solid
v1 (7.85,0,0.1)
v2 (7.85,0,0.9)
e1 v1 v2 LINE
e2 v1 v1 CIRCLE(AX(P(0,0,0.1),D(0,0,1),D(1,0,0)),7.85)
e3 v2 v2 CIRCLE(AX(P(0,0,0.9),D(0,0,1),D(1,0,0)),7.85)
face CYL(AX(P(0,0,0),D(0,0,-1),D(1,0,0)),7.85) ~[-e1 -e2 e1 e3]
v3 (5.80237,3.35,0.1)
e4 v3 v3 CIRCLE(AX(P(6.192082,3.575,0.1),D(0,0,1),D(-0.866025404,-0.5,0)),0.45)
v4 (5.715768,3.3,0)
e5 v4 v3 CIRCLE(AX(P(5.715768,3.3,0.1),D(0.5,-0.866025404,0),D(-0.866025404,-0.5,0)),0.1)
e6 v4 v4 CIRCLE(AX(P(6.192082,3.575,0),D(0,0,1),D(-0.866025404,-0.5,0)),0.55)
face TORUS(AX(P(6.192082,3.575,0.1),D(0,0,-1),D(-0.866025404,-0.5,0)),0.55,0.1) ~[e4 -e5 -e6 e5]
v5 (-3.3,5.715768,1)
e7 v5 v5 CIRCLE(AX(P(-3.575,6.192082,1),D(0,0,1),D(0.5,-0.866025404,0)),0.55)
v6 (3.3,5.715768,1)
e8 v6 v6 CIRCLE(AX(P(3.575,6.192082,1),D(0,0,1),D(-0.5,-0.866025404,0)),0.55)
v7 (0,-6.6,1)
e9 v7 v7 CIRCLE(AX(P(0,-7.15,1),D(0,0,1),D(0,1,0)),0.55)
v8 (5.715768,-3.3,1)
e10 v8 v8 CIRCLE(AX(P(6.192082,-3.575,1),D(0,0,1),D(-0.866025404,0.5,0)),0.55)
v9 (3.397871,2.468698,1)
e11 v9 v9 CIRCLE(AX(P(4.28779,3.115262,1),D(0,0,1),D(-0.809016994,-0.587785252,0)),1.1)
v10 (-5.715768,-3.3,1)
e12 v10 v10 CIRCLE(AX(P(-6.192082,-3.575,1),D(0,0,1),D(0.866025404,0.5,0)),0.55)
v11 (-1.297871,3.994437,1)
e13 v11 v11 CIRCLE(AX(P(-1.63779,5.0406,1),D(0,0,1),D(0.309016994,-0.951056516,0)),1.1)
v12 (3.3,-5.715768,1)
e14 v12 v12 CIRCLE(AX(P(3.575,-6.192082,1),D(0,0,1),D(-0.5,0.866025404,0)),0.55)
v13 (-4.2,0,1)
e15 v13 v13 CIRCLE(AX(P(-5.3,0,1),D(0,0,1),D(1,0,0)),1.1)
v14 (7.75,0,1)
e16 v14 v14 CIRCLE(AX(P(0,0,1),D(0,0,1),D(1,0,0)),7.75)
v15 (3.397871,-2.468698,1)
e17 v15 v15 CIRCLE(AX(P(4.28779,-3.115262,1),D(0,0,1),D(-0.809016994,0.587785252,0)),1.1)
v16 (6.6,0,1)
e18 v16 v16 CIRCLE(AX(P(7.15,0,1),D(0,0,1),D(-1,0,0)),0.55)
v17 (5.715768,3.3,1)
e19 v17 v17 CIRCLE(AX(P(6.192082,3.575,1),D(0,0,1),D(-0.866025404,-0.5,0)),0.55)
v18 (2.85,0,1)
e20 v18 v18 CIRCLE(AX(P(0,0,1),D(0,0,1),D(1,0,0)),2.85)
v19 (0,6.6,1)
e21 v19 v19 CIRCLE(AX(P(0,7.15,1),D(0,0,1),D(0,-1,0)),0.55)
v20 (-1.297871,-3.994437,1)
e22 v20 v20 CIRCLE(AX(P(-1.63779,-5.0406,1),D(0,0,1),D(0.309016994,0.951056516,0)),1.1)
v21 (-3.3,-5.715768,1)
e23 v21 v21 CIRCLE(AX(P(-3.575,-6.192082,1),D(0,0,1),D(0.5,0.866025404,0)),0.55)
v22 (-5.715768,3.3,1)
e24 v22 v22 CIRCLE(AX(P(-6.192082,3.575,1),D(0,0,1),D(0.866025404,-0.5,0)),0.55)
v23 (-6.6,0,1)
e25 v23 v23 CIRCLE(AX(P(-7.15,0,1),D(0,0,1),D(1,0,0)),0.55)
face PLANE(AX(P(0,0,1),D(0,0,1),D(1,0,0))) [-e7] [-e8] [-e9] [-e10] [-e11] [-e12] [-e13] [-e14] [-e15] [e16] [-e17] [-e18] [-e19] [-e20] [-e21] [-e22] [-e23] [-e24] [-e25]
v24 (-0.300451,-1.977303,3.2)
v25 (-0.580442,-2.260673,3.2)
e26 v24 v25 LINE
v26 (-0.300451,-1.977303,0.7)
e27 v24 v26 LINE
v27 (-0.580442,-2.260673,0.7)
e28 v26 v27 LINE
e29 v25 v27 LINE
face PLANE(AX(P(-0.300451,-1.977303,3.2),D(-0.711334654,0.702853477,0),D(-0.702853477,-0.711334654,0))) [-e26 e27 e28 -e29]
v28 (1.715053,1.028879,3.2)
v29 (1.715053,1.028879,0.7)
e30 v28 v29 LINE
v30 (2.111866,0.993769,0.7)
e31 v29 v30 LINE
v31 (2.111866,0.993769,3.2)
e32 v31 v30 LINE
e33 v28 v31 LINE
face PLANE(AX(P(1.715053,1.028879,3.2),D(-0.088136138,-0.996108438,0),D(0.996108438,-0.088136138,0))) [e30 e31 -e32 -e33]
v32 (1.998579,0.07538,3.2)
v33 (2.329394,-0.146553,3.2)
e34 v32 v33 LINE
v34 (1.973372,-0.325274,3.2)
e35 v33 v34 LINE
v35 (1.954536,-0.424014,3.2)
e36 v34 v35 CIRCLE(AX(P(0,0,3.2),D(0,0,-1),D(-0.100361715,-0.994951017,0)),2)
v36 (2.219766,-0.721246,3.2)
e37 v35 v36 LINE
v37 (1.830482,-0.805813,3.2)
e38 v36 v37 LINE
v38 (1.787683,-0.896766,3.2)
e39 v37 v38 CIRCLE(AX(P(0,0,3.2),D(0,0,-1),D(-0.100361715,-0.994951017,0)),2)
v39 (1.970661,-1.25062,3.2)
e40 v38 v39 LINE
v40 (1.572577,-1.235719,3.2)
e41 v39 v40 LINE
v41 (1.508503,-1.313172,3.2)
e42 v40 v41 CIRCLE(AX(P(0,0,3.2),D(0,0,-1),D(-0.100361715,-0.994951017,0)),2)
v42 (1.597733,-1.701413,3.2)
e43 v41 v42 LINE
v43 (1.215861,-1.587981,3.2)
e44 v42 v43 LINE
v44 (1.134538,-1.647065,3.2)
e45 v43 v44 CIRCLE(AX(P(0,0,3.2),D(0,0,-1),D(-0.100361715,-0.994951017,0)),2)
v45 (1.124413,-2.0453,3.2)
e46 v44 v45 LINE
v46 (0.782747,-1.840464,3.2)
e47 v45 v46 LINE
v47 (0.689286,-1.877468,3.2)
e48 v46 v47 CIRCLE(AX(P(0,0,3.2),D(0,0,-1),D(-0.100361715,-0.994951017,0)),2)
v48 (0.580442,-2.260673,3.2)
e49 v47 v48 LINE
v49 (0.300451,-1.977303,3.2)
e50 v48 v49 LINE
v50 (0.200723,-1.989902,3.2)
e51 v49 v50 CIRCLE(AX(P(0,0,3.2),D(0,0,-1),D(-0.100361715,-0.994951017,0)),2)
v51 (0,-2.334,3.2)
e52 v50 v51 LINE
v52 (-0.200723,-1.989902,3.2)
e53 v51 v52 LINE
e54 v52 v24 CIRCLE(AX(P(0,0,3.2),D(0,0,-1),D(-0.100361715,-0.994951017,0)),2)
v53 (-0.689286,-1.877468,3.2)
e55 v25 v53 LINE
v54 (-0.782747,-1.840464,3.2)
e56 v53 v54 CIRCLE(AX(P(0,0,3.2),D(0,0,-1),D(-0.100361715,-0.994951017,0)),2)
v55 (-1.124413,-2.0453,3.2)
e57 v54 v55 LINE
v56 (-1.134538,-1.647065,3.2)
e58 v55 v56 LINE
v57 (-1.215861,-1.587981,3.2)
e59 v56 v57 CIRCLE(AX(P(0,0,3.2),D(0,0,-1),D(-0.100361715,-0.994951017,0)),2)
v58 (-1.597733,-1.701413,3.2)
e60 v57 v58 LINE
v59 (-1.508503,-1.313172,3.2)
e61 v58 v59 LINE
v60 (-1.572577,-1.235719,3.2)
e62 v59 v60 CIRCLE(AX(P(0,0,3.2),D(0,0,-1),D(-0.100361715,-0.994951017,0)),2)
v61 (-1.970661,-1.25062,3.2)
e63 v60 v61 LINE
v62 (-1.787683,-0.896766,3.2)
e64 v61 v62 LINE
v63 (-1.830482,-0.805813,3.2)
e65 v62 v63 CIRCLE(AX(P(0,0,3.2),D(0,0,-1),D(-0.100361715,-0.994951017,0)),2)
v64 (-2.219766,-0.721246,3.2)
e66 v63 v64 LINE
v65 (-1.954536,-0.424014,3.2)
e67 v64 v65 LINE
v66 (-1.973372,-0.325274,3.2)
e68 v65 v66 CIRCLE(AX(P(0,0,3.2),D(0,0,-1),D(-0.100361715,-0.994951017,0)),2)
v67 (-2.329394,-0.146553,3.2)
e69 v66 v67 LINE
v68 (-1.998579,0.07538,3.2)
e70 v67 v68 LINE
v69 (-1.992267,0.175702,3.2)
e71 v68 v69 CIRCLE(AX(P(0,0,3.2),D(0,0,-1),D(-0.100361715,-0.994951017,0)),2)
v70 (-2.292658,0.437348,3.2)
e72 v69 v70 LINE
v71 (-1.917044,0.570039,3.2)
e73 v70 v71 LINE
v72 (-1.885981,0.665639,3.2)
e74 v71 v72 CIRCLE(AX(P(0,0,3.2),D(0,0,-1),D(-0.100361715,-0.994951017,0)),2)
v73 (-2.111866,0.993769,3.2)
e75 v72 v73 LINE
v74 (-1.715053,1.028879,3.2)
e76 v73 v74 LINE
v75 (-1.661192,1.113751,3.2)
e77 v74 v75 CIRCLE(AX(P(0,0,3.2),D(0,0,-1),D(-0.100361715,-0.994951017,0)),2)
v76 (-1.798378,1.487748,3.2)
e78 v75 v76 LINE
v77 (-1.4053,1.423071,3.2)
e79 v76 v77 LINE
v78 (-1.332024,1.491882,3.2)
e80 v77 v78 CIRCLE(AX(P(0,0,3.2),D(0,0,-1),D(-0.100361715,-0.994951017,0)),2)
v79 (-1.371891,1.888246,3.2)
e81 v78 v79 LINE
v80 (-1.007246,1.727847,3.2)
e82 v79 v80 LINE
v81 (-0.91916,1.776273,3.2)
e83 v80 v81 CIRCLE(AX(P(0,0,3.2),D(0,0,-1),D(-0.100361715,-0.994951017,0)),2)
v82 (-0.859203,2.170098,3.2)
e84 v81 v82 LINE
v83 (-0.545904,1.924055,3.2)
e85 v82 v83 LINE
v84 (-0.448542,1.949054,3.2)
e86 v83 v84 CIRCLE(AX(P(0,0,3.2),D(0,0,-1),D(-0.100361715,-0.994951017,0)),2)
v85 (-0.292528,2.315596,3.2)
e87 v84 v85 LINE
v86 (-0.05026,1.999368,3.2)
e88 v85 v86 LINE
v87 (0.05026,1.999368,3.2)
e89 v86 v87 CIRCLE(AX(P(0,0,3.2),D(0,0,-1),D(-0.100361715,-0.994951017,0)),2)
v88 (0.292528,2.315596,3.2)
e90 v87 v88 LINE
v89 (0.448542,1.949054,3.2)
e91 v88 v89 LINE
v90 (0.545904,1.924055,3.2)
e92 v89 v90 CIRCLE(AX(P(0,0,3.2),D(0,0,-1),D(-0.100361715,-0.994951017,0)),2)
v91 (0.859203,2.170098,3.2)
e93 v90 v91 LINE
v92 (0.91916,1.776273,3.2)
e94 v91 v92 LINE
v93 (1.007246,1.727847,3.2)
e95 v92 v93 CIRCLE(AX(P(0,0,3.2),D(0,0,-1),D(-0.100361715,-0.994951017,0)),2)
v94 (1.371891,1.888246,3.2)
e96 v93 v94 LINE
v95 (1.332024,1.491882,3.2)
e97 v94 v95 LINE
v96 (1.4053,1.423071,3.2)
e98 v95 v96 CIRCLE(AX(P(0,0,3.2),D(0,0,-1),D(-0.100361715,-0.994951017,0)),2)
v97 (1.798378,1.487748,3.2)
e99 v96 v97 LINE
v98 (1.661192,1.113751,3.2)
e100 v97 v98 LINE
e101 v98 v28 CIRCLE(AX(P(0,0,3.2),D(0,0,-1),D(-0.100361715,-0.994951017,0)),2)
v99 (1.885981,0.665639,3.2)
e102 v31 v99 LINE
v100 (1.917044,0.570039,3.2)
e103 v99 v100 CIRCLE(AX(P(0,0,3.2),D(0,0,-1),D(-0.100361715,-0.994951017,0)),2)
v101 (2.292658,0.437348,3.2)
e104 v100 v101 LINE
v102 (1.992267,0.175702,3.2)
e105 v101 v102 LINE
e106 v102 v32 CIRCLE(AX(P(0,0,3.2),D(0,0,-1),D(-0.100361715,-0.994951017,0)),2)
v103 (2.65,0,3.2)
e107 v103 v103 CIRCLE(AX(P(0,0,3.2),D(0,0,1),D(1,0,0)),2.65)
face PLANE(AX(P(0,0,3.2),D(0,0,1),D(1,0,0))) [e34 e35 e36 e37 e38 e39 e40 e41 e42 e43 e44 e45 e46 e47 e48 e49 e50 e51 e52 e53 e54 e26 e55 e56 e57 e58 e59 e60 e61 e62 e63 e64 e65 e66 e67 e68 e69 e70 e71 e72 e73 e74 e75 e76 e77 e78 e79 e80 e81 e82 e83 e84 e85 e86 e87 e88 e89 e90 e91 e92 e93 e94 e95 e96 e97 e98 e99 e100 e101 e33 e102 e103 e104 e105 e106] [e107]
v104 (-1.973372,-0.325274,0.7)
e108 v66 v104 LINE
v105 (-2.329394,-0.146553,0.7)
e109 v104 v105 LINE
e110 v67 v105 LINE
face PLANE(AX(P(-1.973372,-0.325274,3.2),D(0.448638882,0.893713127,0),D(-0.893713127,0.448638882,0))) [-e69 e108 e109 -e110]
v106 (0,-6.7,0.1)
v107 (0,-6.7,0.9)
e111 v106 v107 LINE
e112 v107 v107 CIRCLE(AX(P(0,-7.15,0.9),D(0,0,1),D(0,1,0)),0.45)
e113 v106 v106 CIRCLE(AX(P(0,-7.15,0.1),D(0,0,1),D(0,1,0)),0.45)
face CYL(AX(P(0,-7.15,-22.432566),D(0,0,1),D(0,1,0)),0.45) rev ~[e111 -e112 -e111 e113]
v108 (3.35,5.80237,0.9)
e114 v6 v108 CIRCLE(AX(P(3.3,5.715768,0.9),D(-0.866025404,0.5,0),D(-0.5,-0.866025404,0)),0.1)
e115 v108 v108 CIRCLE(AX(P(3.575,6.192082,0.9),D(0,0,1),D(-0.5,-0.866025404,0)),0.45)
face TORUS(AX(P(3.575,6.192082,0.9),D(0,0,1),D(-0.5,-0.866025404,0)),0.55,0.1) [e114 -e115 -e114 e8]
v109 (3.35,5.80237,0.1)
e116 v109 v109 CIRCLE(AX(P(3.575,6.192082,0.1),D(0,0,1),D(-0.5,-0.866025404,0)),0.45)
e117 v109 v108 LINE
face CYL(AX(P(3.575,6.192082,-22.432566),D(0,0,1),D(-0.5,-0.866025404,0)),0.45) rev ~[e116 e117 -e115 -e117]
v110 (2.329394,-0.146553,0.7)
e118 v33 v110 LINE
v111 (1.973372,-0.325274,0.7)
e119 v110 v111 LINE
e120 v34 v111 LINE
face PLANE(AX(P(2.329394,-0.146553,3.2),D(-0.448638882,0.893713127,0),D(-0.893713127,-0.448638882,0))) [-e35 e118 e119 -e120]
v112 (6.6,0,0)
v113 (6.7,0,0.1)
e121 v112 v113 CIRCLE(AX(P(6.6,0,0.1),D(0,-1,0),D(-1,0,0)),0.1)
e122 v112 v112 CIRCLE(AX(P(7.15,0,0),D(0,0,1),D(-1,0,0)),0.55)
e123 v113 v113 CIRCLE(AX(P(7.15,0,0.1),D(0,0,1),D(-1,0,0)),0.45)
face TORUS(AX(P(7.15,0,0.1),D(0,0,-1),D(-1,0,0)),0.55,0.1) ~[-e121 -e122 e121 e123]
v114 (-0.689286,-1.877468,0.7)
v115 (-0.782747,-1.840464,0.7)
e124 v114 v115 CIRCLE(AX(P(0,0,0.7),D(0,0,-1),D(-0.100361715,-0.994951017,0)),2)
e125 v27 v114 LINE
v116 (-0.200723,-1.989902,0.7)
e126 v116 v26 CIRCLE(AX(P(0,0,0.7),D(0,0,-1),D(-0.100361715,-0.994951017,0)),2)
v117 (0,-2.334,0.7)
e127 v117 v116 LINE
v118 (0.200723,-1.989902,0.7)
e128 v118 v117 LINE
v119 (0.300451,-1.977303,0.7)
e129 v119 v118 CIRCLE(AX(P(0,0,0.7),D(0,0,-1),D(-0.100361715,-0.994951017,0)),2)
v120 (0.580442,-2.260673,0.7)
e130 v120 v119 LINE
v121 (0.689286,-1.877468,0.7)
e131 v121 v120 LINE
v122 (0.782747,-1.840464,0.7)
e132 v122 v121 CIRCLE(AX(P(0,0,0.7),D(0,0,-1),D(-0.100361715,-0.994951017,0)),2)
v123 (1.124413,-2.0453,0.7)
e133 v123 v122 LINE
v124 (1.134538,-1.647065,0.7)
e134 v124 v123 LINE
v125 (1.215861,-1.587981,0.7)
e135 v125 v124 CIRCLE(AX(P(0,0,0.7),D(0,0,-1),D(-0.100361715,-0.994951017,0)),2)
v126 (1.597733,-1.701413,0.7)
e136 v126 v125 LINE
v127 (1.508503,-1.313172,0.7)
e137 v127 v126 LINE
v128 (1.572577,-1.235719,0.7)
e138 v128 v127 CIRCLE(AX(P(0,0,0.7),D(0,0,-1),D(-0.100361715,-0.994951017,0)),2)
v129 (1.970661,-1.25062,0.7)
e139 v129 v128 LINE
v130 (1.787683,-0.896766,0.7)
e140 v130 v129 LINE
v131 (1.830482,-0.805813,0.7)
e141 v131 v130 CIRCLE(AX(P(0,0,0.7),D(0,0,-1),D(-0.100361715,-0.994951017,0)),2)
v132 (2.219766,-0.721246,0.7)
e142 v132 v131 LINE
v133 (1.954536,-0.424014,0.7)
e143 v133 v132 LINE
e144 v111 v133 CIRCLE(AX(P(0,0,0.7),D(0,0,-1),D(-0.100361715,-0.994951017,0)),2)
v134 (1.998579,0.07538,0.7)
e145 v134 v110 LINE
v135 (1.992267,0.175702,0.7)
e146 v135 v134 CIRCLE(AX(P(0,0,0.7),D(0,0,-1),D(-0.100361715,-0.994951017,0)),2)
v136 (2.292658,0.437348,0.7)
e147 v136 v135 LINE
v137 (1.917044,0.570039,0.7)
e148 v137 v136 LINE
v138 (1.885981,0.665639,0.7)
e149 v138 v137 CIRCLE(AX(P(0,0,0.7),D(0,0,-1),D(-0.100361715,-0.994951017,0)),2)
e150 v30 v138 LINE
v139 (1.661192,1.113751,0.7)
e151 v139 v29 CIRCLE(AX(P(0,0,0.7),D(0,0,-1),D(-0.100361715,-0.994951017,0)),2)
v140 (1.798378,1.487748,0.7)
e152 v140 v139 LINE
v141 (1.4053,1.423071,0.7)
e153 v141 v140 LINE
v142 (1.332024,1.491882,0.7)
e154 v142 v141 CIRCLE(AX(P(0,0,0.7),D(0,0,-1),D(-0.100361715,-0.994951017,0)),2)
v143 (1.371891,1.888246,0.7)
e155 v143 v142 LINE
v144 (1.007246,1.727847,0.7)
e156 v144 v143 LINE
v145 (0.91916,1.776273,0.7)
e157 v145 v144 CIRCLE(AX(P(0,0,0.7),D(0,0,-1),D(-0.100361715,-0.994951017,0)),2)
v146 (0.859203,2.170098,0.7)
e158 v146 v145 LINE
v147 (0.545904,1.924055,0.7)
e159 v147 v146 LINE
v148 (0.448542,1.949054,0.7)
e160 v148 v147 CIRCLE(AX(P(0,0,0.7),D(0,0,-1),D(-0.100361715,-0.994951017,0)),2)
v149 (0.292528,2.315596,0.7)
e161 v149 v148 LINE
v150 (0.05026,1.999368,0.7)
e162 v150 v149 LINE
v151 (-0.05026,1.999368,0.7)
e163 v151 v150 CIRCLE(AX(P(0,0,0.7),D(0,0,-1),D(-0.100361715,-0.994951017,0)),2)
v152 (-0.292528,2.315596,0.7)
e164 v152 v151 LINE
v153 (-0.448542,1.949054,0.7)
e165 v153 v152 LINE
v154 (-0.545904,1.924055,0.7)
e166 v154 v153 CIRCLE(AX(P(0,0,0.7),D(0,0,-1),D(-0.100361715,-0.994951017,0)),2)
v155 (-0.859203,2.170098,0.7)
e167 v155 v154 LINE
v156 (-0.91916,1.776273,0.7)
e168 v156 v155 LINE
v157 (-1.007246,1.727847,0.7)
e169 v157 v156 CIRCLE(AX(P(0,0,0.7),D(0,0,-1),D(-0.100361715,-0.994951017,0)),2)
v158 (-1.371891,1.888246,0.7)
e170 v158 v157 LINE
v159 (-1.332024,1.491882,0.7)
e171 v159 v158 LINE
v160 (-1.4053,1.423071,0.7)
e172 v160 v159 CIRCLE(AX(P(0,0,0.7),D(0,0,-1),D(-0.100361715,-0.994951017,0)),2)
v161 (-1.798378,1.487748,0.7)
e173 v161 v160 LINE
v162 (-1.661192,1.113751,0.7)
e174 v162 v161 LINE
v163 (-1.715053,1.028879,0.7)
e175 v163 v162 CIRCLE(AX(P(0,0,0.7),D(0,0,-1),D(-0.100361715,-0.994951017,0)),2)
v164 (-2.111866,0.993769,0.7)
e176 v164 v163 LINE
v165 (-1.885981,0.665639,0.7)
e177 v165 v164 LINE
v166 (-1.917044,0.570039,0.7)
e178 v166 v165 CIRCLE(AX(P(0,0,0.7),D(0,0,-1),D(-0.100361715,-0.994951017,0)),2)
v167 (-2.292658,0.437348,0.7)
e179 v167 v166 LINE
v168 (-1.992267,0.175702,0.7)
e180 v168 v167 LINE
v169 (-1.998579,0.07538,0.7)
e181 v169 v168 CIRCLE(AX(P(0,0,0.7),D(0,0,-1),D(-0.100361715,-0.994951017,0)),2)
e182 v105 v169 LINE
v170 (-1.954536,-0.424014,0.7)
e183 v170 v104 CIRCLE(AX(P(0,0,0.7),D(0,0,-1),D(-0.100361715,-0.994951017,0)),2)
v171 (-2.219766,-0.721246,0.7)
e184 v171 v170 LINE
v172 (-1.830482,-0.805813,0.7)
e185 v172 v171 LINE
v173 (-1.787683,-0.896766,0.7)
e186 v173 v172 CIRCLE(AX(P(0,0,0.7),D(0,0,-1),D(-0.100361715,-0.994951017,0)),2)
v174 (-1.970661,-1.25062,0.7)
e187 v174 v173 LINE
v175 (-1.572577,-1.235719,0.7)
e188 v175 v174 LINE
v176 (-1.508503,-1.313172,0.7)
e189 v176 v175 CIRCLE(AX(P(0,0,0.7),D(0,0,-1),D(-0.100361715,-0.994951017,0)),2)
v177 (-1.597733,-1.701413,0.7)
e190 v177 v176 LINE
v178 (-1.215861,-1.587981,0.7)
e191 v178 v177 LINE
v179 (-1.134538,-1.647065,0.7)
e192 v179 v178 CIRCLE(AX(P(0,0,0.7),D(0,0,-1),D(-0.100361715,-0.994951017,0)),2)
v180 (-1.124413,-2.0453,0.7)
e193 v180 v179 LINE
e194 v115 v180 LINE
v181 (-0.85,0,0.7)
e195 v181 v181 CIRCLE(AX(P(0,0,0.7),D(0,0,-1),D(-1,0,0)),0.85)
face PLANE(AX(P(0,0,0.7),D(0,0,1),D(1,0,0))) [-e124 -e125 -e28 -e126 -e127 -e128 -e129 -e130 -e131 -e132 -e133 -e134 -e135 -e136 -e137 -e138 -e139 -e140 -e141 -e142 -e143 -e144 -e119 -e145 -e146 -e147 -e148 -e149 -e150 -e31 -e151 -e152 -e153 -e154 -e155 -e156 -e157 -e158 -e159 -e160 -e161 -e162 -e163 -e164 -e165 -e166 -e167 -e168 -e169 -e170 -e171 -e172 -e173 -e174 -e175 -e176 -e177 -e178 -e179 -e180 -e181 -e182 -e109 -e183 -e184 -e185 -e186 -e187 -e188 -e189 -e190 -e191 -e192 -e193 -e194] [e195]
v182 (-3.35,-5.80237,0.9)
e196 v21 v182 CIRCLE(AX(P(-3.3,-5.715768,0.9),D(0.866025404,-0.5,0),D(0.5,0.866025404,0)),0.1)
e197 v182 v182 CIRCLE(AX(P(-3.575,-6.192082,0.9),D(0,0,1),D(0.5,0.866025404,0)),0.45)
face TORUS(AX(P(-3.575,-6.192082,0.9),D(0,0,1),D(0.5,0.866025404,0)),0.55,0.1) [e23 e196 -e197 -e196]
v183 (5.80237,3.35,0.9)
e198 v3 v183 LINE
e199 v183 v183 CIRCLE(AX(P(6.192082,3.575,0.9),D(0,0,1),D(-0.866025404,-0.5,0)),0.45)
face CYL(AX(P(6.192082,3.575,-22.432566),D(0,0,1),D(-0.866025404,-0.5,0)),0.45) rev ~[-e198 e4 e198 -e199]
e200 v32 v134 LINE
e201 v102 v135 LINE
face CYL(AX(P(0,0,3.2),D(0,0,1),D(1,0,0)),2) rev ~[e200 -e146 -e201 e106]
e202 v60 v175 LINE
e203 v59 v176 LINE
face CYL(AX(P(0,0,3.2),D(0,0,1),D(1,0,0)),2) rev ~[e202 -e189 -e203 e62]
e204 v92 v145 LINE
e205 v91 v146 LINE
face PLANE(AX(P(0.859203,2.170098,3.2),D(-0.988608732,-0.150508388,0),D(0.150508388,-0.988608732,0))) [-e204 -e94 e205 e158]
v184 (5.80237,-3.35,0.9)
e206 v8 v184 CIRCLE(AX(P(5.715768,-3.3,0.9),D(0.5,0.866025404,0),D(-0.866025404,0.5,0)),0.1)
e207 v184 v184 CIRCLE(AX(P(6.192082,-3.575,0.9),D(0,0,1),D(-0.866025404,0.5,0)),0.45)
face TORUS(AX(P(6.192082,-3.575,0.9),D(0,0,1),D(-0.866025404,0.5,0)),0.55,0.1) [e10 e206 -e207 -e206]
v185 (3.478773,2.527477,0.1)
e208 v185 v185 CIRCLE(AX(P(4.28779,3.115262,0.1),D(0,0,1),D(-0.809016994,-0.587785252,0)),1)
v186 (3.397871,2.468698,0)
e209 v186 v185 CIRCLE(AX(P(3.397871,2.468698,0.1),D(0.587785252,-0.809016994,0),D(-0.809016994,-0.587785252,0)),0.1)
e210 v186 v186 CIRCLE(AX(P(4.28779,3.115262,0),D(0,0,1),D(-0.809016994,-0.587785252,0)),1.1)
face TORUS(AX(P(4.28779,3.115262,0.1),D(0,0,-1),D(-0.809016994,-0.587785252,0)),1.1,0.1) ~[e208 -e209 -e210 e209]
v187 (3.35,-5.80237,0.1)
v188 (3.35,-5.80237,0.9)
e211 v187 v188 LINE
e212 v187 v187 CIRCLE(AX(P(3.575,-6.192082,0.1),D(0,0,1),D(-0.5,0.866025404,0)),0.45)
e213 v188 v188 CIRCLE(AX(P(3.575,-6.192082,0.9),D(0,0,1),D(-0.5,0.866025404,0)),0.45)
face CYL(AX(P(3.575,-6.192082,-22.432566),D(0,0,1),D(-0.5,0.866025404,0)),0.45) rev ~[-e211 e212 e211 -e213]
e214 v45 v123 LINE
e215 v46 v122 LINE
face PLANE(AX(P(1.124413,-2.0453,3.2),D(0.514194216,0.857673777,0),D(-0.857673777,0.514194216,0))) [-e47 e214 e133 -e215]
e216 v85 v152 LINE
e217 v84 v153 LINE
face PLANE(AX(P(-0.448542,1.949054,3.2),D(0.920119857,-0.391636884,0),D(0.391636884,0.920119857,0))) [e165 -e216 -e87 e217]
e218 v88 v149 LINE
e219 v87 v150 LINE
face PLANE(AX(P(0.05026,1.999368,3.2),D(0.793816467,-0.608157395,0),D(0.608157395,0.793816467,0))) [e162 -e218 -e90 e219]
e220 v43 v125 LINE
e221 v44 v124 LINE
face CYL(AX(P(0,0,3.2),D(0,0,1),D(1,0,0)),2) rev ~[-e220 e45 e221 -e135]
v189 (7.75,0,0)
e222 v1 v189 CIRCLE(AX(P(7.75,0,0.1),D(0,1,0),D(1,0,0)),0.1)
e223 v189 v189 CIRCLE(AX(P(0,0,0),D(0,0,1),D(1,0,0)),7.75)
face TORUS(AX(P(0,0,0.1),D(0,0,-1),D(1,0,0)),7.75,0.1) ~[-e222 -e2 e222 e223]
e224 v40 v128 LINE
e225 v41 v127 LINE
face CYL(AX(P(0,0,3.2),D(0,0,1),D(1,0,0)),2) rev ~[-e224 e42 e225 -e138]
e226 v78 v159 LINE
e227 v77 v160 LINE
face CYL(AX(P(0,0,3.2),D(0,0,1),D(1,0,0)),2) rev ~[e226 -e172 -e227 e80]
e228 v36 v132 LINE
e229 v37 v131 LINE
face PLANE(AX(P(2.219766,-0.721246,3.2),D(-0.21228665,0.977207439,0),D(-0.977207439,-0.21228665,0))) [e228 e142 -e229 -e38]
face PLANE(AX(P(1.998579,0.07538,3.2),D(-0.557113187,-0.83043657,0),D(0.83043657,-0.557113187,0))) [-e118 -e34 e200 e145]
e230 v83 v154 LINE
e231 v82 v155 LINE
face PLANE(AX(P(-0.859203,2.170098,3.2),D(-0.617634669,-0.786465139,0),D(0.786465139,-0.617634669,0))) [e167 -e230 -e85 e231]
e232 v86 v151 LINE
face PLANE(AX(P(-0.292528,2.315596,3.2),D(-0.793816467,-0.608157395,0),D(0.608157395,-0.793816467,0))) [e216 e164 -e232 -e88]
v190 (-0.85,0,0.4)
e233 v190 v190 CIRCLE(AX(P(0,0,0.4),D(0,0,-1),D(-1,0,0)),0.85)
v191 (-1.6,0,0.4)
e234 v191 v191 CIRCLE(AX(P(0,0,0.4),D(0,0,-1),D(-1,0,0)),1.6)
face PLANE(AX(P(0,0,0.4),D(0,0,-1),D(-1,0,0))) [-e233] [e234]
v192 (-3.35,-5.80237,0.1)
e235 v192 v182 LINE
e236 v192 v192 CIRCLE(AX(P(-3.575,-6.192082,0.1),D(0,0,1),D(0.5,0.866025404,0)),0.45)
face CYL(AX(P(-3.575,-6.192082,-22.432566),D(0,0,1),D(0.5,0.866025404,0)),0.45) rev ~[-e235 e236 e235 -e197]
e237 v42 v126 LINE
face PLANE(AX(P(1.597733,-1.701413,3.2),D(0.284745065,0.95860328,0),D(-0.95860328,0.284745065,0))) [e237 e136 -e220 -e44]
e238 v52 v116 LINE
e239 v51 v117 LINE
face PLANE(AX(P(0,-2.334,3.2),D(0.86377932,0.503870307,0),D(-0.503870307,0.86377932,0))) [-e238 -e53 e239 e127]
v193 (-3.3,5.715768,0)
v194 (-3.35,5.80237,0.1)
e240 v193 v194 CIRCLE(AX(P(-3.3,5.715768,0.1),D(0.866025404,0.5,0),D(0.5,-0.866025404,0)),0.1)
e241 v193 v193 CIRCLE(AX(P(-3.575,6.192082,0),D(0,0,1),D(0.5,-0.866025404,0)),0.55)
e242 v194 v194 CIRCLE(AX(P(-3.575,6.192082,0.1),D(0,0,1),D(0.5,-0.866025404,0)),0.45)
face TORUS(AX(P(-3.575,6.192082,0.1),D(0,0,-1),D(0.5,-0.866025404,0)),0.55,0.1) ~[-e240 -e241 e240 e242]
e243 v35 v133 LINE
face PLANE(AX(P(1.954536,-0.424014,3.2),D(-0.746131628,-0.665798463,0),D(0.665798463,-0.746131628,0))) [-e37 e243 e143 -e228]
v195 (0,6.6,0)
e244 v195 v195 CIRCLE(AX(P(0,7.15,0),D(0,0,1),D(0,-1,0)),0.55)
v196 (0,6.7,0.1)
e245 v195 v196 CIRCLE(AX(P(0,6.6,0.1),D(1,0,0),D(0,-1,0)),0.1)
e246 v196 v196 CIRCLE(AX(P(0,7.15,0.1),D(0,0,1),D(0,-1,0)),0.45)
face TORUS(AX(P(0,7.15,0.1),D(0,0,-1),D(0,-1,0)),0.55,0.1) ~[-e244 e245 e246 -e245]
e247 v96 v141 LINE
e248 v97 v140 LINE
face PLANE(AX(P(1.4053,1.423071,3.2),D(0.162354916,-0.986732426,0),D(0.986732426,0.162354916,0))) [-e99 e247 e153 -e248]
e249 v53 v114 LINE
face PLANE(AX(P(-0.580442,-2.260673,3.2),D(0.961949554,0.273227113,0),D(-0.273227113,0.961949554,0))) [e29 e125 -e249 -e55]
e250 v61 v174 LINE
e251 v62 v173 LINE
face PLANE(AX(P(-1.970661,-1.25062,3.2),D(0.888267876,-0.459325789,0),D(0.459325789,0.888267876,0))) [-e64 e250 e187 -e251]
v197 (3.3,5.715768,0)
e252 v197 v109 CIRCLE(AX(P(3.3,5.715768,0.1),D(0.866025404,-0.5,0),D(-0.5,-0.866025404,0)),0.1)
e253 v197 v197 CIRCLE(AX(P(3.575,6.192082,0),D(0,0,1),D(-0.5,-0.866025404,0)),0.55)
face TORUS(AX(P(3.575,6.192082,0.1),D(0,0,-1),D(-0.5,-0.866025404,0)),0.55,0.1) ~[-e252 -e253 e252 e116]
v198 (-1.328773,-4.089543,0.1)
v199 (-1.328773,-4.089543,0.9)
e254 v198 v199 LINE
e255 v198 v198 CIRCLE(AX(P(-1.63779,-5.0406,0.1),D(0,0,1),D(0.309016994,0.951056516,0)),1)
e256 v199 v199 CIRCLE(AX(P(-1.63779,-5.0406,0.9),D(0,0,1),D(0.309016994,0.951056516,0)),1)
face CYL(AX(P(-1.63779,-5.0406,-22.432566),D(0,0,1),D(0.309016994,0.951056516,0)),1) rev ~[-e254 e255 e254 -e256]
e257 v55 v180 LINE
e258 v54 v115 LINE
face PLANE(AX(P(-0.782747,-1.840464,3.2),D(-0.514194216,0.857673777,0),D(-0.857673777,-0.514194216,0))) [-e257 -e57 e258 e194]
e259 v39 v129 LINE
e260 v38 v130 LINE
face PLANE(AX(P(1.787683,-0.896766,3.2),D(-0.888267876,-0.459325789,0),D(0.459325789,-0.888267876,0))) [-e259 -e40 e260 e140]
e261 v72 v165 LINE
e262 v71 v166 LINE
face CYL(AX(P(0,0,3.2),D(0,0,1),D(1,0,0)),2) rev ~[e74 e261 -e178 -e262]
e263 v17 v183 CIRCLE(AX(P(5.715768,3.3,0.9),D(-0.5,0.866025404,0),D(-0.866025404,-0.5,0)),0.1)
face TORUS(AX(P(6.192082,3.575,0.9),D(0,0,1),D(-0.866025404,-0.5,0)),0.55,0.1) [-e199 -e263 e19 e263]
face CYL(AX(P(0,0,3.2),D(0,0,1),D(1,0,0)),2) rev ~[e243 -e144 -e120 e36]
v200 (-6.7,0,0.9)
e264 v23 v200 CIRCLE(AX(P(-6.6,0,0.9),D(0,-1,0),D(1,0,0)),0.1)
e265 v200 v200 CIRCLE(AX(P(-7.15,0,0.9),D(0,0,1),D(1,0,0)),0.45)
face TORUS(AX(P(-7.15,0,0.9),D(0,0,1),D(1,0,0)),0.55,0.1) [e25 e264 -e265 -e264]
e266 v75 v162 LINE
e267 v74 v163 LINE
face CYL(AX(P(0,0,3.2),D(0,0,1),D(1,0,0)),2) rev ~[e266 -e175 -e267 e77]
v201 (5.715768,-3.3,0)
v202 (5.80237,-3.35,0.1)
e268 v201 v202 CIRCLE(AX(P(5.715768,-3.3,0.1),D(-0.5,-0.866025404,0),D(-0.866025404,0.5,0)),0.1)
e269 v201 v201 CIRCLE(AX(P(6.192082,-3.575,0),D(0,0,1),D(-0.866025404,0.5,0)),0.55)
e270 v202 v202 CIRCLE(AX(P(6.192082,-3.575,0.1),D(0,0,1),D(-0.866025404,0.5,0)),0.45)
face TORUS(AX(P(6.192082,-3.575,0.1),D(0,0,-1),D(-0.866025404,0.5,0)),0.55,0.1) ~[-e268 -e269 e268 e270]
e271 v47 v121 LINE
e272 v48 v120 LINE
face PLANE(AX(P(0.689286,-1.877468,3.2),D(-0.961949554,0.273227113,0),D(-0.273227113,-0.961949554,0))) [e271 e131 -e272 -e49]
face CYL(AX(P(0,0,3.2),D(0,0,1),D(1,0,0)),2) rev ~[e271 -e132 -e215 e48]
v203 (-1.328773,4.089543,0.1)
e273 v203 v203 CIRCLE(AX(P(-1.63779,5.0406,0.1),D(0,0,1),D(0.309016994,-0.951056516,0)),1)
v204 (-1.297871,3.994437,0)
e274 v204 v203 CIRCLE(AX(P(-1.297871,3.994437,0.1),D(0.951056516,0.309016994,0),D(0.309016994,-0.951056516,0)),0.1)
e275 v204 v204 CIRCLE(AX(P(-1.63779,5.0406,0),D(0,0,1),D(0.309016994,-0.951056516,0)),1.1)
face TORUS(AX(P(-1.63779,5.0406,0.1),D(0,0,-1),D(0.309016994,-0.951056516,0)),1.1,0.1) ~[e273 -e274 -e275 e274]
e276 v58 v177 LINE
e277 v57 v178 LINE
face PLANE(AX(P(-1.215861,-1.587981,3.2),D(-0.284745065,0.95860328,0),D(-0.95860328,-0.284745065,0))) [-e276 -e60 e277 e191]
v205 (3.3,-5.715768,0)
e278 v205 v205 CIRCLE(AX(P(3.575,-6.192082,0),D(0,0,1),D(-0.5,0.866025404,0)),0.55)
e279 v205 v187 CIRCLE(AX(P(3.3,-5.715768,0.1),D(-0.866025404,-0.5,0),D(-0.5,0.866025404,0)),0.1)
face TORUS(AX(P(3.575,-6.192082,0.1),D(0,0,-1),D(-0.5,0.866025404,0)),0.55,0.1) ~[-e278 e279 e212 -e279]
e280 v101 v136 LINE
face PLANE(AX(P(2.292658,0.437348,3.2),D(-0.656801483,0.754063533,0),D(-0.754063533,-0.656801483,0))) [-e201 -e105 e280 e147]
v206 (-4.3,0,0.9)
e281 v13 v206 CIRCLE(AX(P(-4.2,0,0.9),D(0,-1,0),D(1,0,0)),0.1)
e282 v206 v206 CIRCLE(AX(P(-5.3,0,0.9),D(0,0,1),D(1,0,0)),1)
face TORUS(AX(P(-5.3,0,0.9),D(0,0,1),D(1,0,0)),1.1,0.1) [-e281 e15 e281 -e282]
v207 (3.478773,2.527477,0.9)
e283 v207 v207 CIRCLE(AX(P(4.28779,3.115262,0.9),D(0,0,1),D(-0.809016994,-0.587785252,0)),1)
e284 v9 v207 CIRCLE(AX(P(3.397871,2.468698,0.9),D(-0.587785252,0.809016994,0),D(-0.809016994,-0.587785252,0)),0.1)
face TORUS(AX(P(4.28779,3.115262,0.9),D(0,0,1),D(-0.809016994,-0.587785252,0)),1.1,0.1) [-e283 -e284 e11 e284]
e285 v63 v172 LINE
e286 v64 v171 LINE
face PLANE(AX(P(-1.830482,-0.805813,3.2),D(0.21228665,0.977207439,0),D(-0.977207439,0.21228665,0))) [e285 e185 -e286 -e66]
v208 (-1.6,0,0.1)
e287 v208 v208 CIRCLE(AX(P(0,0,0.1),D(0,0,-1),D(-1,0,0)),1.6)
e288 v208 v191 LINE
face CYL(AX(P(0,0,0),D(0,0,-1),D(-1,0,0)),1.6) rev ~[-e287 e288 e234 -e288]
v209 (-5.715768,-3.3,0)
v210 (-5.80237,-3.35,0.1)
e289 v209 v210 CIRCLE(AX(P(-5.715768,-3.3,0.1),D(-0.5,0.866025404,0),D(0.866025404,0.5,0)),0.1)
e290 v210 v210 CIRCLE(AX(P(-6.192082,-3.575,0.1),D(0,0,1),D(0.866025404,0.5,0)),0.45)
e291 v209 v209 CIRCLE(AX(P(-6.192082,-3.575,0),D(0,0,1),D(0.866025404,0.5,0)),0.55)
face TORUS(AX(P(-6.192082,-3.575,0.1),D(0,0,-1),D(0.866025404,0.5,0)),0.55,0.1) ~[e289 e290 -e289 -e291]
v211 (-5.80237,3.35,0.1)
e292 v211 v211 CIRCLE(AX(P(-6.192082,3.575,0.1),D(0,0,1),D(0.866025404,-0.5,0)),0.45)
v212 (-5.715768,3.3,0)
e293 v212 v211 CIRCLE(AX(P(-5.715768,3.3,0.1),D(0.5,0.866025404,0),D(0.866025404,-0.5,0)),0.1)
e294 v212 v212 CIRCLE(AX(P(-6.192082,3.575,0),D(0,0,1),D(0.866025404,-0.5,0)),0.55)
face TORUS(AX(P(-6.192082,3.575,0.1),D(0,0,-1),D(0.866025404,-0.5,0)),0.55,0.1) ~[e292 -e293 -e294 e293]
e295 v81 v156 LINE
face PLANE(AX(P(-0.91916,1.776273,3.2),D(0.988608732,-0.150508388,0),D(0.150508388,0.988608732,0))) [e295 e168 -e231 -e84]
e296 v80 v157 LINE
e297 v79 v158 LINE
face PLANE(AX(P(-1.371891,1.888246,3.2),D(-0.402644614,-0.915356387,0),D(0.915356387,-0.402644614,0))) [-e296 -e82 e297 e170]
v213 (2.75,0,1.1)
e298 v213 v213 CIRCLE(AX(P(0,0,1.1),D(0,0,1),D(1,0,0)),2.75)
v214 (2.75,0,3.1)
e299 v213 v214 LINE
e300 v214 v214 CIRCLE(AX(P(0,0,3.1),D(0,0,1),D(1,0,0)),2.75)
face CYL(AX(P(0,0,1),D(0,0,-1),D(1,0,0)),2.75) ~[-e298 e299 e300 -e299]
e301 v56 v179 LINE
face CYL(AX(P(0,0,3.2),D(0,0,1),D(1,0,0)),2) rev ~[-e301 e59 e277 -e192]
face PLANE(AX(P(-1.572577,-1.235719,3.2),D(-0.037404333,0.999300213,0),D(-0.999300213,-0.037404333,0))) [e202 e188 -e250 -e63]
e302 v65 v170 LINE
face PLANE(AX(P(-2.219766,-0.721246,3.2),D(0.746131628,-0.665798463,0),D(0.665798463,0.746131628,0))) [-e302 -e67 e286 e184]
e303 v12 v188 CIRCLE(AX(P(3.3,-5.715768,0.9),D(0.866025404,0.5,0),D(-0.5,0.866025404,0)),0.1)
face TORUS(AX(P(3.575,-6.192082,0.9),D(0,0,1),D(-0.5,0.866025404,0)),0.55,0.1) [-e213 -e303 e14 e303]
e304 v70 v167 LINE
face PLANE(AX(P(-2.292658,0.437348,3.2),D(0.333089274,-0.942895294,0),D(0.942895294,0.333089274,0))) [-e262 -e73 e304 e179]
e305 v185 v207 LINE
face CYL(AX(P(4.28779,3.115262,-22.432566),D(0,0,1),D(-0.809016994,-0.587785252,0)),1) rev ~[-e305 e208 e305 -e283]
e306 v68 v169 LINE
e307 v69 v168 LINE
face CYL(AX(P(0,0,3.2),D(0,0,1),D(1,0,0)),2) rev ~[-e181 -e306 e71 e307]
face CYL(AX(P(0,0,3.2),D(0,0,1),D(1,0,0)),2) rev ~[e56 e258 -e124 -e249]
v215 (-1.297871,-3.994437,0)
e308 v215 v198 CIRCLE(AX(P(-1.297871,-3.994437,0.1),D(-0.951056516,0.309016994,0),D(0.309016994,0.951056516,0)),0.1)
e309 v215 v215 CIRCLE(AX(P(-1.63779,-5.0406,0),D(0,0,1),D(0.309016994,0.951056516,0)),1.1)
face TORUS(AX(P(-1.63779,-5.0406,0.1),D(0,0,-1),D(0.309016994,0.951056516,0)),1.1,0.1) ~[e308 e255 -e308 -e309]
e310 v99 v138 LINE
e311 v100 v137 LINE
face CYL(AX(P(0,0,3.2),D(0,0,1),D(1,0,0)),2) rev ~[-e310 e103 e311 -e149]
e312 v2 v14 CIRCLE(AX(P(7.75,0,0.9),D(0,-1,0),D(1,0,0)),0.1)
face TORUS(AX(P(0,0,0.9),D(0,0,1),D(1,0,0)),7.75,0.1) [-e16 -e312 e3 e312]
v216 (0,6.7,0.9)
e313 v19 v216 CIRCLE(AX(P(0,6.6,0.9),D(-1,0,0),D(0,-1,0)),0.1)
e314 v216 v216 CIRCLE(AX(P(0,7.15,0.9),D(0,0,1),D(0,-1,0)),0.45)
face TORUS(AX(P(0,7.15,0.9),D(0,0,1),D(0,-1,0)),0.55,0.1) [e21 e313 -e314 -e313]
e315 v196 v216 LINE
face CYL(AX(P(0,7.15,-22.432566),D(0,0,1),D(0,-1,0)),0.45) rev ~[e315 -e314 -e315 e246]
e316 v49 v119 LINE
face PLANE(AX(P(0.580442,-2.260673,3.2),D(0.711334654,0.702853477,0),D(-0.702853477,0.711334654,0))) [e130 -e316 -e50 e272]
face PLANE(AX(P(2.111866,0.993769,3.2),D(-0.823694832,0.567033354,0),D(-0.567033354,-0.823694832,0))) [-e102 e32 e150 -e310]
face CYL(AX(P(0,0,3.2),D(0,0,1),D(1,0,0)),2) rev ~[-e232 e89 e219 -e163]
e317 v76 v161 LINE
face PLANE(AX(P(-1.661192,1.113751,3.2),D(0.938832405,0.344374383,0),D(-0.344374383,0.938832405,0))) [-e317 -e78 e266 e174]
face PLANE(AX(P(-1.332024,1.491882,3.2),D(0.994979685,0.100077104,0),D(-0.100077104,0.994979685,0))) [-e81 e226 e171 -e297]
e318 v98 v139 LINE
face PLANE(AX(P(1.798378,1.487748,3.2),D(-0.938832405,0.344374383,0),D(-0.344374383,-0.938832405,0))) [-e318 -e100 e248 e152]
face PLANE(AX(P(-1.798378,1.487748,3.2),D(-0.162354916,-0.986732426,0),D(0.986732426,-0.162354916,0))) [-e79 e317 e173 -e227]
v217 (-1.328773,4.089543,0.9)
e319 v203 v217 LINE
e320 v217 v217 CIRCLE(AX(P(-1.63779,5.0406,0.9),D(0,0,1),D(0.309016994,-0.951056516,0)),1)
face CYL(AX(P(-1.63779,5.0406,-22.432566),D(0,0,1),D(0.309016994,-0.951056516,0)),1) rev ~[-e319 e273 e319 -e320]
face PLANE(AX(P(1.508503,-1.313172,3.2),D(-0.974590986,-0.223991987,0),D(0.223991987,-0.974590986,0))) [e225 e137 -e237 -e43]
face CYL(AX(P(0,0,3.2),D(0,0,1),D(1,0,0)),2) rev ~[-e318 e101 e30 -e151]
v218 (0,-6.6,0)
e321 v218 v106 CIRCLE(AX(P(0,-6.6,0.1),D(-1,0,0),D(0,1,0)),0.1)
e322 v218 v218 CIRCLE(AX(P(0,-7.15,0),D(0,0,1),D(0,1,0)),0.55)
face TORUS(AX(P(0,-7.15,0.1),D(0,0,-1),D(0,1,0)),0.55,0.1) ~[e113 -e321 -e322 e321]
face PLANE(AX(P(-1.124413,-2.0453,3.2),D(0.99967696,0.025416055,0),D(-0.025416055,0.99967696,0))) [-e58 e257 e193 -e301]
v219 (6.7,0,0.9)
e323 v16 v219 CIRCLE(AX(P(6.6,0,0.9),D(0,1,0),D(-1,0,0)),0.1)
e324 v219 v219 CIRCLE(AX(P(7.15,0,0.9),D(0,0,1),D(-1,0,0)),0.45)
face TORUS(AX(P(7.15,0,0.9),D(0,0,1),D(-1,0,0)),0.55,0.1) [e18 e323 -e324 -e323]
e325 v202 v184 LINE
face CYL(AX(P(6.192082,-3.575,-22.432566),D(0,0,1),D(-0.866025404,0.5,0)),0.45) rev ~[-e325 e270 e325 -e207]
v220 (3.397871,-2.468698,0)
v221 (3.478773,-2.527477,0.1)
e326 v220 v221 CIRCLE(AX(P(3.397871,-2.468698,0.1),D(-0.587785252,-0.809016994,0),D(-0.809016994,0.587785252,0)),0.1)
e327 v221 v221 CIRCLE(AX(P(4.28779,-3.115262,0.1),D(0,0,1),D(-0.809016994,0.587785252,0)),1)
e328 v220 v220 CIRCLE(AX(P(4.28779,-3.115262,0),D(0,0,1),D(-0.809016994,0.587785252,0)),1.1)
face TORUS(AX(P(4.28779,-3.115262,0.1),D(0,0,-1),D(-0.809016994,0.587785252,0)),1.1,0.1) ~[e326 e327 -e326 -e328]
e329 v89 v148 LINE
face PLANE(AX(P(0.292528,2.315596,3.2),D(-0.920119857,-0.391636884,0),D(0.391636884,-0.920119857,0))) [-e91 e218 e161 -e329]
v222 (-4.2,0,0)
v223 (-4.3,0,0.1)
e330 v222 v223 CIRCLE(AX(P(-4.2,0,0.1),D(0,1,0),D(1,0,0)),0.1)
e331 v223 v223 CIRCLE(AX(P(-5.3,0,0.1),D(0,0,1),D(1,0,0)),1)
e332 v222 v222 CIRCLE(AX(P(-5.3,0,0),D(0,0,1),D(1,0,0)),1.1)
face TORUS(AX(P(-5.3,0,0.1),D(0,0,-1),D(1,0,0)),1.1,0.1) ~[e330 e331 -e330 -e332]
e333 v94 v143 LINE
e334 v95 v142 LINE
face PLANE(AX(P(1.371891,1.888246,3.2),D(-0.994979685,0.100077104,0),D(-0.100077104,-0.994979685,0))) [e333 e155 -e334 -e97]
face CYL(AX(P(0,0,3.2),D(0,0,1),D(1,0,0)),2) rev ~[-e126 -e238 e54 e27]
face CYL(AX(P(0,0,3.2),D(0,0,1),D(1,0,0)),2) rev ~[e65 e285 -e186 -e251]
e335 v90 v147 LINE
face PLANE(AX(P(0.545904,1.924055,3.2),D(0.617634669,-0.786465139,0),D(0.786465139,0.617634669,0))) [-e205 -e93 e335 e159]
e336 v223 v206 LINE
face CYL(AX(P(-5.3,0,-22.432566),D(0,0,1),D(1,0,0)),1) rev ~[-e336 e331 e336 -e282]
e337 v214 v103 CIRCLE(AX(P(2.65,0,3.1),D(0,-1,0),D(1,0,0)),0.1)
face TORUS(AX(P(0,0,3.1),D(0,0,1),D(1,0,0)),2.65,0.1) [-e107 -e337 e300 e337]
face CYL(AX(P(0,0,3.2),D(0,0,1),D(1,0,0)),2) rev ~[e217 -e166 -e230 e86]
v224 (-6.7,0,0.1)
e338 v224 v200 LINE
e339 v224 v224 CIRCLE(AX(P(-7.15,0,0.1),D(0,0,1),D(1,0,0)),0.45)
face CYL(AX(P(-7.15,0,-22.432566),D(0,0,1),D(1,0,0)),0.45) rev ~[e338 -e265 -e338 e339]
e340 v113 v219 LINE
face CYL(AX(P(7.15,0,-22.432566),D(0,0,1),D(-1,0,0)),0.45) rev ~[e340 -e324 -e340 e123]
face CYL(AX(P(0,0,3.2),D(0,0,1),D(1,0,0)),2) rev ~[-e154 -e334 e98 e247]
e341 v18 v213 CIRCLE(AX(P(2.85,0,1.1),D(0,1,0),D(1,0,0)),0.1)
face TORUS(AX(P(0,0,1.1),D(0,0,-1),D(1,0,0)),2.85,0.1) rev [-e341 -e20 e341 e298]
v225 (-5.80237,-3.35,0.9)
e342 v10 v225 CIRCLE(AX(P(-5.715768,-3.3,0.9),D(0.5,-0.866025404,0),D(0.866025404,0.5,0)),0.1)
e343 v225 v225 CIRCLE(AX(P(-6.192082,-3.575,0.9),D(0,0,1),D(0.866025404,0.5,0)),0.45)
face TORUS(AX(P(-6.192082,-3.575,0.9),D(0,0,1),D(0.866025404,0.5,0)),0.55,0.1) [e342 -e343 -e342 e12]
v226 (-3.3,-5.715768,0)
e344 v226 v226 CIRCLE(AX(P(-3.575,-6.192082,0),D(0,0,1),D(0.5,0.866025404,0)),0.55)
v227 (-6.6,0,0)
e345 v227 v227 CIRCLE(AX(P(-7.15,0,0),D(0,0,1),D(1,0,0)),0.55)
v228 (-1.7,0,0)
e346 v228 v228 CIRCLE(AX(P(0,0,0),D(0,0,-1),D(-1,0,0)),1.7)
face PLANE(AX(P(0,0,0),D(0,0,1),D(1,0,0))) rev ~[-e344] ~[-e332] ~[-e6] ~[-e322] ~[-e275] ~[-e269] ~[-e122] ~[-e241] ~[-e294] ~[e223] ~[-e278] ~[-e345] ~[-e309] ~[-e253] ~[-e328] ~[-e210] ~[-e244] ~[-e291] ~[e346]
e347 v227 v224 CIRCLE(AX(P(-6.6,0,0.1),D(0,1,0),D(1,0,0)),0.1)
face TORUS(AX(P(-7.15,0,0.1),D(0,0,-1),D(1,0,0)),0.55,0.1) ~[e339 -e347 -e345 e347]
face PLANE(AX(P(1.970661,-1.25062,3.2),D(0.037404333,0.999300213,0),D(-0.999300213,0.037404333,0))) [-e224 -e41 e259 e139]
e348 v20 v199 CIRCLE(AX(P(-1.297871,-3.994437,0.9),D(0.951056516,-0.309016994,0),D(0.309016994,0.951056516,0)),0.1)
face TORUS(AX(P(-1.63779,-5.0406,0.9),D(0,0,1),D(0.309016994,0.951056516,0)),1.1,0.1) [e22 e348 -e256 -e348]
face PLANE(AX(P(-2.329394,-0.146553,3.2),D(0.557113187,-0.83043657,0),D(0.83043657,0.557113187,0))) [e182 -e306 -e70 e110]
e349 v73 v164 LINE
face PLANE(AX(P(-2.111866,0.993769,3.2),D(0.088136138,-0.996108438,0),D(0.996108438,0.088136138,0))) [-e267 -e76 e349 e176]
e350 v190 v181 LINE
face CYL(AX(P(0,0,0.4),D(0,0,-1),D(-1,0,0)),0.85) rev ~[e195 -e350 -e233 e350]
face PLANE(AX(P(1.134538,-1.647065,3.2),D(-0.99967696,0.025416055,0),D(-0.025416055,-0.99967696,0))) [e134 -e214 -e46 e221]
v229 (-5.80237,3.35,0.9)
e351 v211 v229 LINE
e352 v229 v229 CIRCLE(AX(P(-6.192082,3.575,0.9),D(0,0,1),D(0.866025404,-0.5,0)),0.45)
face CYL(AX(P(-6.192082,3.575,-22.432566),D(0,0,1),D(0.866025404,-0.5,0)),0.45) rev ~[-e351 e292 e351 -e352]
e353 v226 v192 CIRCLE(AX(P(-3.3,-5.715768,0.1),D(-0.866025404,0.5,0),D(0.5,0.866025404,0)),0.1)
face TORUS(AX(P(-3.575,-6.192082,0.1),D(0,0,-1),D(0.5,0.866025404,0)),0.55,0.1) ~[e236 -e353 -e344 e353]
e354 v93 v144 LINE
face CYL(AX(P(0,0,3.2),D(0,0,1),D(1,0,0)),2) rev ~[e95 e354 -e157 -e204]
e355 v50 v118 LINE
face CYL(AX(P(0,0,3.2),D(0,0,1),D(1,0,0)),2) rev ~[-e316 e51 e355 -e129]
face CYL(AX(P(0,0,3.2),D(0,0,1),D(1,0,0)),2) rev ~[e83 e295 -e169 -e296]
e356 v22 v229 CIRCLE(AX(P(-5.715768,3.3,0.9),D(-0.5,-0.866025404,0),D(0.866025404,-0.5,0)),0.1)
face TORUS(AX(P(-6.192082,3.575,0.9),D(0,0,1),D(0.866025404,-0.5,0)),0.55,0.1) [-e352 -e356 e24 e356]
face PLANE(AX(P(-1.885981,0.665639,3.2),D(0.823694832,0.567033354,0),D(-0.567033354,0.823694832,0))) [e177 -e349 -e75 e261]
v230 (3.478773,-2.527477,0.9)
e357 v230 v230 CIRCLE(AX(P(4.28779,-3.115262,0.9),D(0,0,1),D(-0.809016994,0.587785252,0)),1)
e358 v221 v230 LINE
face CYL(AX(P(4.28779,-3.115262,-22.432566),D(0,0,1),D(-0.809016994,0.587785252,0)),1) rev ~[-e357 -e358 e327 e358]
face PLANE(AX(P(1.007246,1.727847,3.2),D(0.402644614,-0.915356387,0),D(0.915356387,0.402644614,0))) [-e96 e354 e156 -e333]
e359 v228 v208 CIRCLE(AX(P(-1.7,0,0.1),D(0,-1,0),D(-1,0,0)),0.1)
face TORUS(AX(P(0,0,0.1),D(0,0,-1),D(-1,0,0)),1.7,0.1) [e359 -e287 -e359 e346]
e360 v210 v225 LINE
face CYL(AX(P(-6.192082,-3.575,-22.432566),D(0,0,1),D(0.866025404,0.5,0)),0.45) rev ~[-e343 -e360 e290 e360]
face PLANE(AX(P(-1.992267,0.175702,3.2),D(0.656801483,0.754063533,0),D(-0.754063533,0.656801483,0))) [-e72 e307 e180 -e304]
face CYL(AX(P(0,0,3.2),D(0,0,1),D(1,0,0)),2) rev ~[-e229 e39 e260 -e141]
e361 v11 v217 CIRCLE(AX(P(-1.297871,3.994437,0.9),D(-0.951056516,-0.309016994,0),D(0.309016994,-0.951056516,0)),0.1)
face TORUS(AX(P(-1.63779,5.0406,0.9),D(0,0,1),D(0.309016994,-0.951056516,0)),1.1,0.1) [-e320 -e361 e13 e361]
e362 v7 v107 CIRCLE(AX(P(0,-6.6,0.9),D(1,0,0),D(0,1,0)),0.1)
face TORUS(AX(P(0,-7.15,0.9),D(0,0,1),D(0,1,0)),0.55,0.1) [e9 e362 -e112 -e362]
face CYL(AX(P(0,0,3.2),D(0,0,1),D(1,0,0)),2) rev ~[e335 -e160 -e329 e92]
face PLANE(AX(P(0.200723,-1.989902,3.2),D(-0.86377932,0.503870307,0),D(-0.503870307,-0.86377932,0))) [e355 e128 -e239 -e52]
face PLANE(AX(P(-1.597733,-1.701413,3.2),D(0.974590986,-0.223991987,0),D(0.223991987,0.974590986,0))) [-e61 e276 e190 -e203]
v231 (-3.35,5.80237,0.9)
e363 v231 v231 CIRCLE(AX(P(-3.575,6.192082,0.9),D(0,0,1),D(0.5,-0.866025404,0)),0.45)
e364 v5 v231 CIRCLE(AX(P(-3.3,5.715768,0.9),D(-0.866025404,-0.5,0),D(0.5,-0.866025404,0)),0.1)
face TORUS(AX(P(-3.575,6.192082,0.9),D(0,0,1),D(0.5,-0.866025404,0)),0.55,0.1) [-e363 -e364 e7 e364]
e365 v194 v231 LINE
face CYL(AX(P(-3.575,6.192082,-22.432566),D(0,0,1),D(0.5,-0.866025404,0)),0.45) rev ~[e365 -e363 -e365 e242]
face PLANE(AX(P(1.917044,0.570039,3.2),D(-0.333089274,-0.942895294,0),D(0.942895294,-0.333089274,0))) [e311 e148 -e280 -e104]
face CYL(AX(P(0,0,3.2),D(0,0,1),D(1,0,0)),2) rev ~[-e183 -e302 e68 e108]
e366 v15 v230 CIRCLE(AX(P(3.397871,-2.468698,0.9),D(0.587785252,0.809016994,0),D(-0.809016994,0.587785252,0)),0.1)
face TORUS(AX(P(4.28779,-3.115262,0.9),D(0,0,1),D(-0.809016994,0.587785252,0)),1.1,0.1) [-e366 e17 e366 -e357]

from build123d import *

# Parameters (mm, degrees)
ESQUISSE1_R                = 7.85
BOSS_EXTRU_1_DEPTH         = 1
ESQUISSE2_R                = 2.75
BOSS_EXTRU_2_DEPTH         = 2.2
ESQUISSE3_R                = 2
ENL_V_MAT_EXTRU_1_DEPTH    = 2.5
CUT_EXTRUDE1_DEPTH         = 2.5
CIRPATTERN1_COUNT          = 25
ESQUISSE4_R                = 1.6
ENL_V_MAT_EXTRU_2_DEPTH    = 0.4
ESQUISSE5_R                = 0.85
ENL_V_MAT_EXTRU_3_DEPTH    = 4.8
F_0_9_0_9_DIAMETER_HOLE1_D = 0.9
CIRPATTERN2_COUNT          = 12
F_2_0_2_DIAMETER_HOLE1_D   = 2
CIRPATTERN3_COUNT          = 5
FILLET1_R                  = 0.1


with BuildPart() as part:
    # Esquisse1 → Boss.-Extru.1 (new body)
    with BuildSketch(Plane.XY):
        Circle(ESQUISSE1_R)
    extrude(amount=BOSS_EXTRU_1_DEPTH)

    # Esquisse2 → Boss.-Extru.2 (add)
    with BuildSketch(Plane.XY.offset(1)):
        Circle(ESQUISSE2_R)
    extrude(amount=BOSS_EXTRU_2_DEPTH)

    # Esquisse3 → Enlèv. mat.-Extru.1 (cut)
    with BuildSketch(Plane.XY.offset(3.2)):
        Circle(ESQUISSE3_R)
    extrude(amount=-ENL_V_MAT_EXTRU_1_DEPTH, mode=Mode.SUBTRACT)

    # Sketch1 → Cut-Extrude1 (cut)
    with BuildSketch(Plane.XY.offset(3.2)):
        with BuildLine():
            Line((0.20072343, -1.989902034), (0, -2.334))
            Line((0, -2.334), (-0.20072343, -1.989902034))
            ThreePointArc((-0.20072343, -1.989902034), (0, -2), (0.20072343, -1.989902034))
        make_face()
    cut_extrude1 = extrude(amount=-CUT_EXTRUDE1_DEPTH, mode=Mode.SUBTRACT)

    # CirPattern1: Cut-Extrude1 ×25 about axis
    cirpattern1_axis = Axis((0, 0, 0), (0, 0, 1))
    for i in range(1, CIRPATTERN1_COUNT):
        add(cut_extrude1.rotate(cirpattern1_axis, i * 360 / CIRPATTERN1_COUNT), mode=Mode.SUBTRACT)

    # Esquisse4 → Enlèv. mat.-Extru.2 (cut)
    with BuildSketch(Plane(origin=(0, 0, 0), x_dir=(-1, 0, 0), z_dir=(0, 0, -1))):
        Circle(ESQUISSE4_R)
    extrude(amount=-ENL_V_MAT_EXTRU_2_DEPTH, mode=Mode.SUBTRACT)

    # Esquisse5 → Enlèv. mat.-Extru.3 (cut)
    with BuildSketch(Plane(origin=(0, 0, 0.4), x_dir=(-1, 0, 0), z_dir=(0, 0, -1))):
        Circle(ESQUISSE5_R)
    extrude(amount=-ENL_V_MAT_EXTRU_3_DEPTH, mode=Mode.SUBTRACT)

    # Ø0.9 (0.9) Diameter Hole1 (through all)
    with Locations(Plane(origin=(0, 0, 0), x_dir=(-1, 0, 0), z_dir=(0, 0, -1))):
        with Locations((7.15, 0)):
            f_0_9_0_9_diameter_hole1 = Hole(F_0_9_0_9_DIAMETER_HOLE1_D / 2)

    # CirPattern2: Ø0.9 (0.9) Diameter Hole1 ×12 about axis
    cirpattern2_axis = Axis((0, 0, 0), (0, 0, 1))
    for i in range(1, CIRPATTERN2_COUNT):
        add(f_0_9_0_9_diameter_hole1.rotate(cirpattern2_axis, i * 360 / CIRPATTERN2_COUNT), mode=Mode.SUBTRACT)

    # Ø2.0 (2) Diameter Hole1 (through all)
    with Locations(Plane(origin=(0, 0, 0), x_dir=(-1, 0, 0), z_dir=(0, 0, -1))):
        with Locations((5.3, 0)):
            f_2_0_2_diameter_hole1 = Hole(F_2_0_2_DIAMETER_HOLE1_D / 2)

    # CirPattern3: Ø2.0 (2) Diameter Hole1 ×5 about axis
    cirpattern3_axis = Axis((0, 0, 0), (0, 0, 1))
    for i in range(1, CIRPATTERN3_COUNT):
        add(f_2_0_2_diameter_hole1.rotate(cirpattern3_axis, i * 360 / CIRPATTERN3_COUNT), mode=Mode.SUBTRACT)

    # Fillet1
    fillet1_edges = [part.edges().sort_by_distance(p)[0] for p in [
        (-7.85, 0, 0),
        (1.6, 0, 0),
        (-7.6, 0, 1),
        (-7.6, 0, 0),
        (-6.581793069, 3.8, 1),
        (-6.581793069, 3.8, 0),
        (-3.8, 6.581793069, 1),
        (-3.8, 6.581793069, 0),
        (0, 7.6, 1),
        (0, 7.6, 0),
        (3.8, 6.581793069, 1),
        (3.8, 6.581793069, 0),
        (6.581793069, 3.8, 1),
        (6.581793069, 3.8, 0),
        (7.6, 0, 1),
        (7.6, 0, 0),
        (6.581793069, -3.8, 1),
        (6.581793069, -3.8, 0),
        (3.8, -6.581793069, 1),
        (3.8, -6.581793069, 0),
        (0, -7.6, 1),
        (0, -7.6, 0),
        (-3.8, -6.581793069, 1),
        (-3.8, -6.581793069, 0),
        (-6.581793069, -3.8, 1),
        (-6.581793069, -3.8, 0),
        (-6.3, 0, 1),
        (-6.3, 0, 0),
        (-1.946807065, 5.991656053, 1),
        (-1.946807065, 5.991656053, 0),
        (5.096807065, 3.703047089, 1),
        (5.096807065, 3.703047089, 0),
        (5.096807065, -3.703047089, 1),
        (5.096807065, -3.703047089, 0),
        (-1.946807065, -5.991656053, 1),
        (-1.946807065, -5.991656053, 0),
        (-7.85, 0, 1),
        (-2.75, 0, 1),
        (-2.75, 0, 3.2),
    ]]
    fillet(fillet1_edges, radius=FILLET1_R)


solid = part.part
